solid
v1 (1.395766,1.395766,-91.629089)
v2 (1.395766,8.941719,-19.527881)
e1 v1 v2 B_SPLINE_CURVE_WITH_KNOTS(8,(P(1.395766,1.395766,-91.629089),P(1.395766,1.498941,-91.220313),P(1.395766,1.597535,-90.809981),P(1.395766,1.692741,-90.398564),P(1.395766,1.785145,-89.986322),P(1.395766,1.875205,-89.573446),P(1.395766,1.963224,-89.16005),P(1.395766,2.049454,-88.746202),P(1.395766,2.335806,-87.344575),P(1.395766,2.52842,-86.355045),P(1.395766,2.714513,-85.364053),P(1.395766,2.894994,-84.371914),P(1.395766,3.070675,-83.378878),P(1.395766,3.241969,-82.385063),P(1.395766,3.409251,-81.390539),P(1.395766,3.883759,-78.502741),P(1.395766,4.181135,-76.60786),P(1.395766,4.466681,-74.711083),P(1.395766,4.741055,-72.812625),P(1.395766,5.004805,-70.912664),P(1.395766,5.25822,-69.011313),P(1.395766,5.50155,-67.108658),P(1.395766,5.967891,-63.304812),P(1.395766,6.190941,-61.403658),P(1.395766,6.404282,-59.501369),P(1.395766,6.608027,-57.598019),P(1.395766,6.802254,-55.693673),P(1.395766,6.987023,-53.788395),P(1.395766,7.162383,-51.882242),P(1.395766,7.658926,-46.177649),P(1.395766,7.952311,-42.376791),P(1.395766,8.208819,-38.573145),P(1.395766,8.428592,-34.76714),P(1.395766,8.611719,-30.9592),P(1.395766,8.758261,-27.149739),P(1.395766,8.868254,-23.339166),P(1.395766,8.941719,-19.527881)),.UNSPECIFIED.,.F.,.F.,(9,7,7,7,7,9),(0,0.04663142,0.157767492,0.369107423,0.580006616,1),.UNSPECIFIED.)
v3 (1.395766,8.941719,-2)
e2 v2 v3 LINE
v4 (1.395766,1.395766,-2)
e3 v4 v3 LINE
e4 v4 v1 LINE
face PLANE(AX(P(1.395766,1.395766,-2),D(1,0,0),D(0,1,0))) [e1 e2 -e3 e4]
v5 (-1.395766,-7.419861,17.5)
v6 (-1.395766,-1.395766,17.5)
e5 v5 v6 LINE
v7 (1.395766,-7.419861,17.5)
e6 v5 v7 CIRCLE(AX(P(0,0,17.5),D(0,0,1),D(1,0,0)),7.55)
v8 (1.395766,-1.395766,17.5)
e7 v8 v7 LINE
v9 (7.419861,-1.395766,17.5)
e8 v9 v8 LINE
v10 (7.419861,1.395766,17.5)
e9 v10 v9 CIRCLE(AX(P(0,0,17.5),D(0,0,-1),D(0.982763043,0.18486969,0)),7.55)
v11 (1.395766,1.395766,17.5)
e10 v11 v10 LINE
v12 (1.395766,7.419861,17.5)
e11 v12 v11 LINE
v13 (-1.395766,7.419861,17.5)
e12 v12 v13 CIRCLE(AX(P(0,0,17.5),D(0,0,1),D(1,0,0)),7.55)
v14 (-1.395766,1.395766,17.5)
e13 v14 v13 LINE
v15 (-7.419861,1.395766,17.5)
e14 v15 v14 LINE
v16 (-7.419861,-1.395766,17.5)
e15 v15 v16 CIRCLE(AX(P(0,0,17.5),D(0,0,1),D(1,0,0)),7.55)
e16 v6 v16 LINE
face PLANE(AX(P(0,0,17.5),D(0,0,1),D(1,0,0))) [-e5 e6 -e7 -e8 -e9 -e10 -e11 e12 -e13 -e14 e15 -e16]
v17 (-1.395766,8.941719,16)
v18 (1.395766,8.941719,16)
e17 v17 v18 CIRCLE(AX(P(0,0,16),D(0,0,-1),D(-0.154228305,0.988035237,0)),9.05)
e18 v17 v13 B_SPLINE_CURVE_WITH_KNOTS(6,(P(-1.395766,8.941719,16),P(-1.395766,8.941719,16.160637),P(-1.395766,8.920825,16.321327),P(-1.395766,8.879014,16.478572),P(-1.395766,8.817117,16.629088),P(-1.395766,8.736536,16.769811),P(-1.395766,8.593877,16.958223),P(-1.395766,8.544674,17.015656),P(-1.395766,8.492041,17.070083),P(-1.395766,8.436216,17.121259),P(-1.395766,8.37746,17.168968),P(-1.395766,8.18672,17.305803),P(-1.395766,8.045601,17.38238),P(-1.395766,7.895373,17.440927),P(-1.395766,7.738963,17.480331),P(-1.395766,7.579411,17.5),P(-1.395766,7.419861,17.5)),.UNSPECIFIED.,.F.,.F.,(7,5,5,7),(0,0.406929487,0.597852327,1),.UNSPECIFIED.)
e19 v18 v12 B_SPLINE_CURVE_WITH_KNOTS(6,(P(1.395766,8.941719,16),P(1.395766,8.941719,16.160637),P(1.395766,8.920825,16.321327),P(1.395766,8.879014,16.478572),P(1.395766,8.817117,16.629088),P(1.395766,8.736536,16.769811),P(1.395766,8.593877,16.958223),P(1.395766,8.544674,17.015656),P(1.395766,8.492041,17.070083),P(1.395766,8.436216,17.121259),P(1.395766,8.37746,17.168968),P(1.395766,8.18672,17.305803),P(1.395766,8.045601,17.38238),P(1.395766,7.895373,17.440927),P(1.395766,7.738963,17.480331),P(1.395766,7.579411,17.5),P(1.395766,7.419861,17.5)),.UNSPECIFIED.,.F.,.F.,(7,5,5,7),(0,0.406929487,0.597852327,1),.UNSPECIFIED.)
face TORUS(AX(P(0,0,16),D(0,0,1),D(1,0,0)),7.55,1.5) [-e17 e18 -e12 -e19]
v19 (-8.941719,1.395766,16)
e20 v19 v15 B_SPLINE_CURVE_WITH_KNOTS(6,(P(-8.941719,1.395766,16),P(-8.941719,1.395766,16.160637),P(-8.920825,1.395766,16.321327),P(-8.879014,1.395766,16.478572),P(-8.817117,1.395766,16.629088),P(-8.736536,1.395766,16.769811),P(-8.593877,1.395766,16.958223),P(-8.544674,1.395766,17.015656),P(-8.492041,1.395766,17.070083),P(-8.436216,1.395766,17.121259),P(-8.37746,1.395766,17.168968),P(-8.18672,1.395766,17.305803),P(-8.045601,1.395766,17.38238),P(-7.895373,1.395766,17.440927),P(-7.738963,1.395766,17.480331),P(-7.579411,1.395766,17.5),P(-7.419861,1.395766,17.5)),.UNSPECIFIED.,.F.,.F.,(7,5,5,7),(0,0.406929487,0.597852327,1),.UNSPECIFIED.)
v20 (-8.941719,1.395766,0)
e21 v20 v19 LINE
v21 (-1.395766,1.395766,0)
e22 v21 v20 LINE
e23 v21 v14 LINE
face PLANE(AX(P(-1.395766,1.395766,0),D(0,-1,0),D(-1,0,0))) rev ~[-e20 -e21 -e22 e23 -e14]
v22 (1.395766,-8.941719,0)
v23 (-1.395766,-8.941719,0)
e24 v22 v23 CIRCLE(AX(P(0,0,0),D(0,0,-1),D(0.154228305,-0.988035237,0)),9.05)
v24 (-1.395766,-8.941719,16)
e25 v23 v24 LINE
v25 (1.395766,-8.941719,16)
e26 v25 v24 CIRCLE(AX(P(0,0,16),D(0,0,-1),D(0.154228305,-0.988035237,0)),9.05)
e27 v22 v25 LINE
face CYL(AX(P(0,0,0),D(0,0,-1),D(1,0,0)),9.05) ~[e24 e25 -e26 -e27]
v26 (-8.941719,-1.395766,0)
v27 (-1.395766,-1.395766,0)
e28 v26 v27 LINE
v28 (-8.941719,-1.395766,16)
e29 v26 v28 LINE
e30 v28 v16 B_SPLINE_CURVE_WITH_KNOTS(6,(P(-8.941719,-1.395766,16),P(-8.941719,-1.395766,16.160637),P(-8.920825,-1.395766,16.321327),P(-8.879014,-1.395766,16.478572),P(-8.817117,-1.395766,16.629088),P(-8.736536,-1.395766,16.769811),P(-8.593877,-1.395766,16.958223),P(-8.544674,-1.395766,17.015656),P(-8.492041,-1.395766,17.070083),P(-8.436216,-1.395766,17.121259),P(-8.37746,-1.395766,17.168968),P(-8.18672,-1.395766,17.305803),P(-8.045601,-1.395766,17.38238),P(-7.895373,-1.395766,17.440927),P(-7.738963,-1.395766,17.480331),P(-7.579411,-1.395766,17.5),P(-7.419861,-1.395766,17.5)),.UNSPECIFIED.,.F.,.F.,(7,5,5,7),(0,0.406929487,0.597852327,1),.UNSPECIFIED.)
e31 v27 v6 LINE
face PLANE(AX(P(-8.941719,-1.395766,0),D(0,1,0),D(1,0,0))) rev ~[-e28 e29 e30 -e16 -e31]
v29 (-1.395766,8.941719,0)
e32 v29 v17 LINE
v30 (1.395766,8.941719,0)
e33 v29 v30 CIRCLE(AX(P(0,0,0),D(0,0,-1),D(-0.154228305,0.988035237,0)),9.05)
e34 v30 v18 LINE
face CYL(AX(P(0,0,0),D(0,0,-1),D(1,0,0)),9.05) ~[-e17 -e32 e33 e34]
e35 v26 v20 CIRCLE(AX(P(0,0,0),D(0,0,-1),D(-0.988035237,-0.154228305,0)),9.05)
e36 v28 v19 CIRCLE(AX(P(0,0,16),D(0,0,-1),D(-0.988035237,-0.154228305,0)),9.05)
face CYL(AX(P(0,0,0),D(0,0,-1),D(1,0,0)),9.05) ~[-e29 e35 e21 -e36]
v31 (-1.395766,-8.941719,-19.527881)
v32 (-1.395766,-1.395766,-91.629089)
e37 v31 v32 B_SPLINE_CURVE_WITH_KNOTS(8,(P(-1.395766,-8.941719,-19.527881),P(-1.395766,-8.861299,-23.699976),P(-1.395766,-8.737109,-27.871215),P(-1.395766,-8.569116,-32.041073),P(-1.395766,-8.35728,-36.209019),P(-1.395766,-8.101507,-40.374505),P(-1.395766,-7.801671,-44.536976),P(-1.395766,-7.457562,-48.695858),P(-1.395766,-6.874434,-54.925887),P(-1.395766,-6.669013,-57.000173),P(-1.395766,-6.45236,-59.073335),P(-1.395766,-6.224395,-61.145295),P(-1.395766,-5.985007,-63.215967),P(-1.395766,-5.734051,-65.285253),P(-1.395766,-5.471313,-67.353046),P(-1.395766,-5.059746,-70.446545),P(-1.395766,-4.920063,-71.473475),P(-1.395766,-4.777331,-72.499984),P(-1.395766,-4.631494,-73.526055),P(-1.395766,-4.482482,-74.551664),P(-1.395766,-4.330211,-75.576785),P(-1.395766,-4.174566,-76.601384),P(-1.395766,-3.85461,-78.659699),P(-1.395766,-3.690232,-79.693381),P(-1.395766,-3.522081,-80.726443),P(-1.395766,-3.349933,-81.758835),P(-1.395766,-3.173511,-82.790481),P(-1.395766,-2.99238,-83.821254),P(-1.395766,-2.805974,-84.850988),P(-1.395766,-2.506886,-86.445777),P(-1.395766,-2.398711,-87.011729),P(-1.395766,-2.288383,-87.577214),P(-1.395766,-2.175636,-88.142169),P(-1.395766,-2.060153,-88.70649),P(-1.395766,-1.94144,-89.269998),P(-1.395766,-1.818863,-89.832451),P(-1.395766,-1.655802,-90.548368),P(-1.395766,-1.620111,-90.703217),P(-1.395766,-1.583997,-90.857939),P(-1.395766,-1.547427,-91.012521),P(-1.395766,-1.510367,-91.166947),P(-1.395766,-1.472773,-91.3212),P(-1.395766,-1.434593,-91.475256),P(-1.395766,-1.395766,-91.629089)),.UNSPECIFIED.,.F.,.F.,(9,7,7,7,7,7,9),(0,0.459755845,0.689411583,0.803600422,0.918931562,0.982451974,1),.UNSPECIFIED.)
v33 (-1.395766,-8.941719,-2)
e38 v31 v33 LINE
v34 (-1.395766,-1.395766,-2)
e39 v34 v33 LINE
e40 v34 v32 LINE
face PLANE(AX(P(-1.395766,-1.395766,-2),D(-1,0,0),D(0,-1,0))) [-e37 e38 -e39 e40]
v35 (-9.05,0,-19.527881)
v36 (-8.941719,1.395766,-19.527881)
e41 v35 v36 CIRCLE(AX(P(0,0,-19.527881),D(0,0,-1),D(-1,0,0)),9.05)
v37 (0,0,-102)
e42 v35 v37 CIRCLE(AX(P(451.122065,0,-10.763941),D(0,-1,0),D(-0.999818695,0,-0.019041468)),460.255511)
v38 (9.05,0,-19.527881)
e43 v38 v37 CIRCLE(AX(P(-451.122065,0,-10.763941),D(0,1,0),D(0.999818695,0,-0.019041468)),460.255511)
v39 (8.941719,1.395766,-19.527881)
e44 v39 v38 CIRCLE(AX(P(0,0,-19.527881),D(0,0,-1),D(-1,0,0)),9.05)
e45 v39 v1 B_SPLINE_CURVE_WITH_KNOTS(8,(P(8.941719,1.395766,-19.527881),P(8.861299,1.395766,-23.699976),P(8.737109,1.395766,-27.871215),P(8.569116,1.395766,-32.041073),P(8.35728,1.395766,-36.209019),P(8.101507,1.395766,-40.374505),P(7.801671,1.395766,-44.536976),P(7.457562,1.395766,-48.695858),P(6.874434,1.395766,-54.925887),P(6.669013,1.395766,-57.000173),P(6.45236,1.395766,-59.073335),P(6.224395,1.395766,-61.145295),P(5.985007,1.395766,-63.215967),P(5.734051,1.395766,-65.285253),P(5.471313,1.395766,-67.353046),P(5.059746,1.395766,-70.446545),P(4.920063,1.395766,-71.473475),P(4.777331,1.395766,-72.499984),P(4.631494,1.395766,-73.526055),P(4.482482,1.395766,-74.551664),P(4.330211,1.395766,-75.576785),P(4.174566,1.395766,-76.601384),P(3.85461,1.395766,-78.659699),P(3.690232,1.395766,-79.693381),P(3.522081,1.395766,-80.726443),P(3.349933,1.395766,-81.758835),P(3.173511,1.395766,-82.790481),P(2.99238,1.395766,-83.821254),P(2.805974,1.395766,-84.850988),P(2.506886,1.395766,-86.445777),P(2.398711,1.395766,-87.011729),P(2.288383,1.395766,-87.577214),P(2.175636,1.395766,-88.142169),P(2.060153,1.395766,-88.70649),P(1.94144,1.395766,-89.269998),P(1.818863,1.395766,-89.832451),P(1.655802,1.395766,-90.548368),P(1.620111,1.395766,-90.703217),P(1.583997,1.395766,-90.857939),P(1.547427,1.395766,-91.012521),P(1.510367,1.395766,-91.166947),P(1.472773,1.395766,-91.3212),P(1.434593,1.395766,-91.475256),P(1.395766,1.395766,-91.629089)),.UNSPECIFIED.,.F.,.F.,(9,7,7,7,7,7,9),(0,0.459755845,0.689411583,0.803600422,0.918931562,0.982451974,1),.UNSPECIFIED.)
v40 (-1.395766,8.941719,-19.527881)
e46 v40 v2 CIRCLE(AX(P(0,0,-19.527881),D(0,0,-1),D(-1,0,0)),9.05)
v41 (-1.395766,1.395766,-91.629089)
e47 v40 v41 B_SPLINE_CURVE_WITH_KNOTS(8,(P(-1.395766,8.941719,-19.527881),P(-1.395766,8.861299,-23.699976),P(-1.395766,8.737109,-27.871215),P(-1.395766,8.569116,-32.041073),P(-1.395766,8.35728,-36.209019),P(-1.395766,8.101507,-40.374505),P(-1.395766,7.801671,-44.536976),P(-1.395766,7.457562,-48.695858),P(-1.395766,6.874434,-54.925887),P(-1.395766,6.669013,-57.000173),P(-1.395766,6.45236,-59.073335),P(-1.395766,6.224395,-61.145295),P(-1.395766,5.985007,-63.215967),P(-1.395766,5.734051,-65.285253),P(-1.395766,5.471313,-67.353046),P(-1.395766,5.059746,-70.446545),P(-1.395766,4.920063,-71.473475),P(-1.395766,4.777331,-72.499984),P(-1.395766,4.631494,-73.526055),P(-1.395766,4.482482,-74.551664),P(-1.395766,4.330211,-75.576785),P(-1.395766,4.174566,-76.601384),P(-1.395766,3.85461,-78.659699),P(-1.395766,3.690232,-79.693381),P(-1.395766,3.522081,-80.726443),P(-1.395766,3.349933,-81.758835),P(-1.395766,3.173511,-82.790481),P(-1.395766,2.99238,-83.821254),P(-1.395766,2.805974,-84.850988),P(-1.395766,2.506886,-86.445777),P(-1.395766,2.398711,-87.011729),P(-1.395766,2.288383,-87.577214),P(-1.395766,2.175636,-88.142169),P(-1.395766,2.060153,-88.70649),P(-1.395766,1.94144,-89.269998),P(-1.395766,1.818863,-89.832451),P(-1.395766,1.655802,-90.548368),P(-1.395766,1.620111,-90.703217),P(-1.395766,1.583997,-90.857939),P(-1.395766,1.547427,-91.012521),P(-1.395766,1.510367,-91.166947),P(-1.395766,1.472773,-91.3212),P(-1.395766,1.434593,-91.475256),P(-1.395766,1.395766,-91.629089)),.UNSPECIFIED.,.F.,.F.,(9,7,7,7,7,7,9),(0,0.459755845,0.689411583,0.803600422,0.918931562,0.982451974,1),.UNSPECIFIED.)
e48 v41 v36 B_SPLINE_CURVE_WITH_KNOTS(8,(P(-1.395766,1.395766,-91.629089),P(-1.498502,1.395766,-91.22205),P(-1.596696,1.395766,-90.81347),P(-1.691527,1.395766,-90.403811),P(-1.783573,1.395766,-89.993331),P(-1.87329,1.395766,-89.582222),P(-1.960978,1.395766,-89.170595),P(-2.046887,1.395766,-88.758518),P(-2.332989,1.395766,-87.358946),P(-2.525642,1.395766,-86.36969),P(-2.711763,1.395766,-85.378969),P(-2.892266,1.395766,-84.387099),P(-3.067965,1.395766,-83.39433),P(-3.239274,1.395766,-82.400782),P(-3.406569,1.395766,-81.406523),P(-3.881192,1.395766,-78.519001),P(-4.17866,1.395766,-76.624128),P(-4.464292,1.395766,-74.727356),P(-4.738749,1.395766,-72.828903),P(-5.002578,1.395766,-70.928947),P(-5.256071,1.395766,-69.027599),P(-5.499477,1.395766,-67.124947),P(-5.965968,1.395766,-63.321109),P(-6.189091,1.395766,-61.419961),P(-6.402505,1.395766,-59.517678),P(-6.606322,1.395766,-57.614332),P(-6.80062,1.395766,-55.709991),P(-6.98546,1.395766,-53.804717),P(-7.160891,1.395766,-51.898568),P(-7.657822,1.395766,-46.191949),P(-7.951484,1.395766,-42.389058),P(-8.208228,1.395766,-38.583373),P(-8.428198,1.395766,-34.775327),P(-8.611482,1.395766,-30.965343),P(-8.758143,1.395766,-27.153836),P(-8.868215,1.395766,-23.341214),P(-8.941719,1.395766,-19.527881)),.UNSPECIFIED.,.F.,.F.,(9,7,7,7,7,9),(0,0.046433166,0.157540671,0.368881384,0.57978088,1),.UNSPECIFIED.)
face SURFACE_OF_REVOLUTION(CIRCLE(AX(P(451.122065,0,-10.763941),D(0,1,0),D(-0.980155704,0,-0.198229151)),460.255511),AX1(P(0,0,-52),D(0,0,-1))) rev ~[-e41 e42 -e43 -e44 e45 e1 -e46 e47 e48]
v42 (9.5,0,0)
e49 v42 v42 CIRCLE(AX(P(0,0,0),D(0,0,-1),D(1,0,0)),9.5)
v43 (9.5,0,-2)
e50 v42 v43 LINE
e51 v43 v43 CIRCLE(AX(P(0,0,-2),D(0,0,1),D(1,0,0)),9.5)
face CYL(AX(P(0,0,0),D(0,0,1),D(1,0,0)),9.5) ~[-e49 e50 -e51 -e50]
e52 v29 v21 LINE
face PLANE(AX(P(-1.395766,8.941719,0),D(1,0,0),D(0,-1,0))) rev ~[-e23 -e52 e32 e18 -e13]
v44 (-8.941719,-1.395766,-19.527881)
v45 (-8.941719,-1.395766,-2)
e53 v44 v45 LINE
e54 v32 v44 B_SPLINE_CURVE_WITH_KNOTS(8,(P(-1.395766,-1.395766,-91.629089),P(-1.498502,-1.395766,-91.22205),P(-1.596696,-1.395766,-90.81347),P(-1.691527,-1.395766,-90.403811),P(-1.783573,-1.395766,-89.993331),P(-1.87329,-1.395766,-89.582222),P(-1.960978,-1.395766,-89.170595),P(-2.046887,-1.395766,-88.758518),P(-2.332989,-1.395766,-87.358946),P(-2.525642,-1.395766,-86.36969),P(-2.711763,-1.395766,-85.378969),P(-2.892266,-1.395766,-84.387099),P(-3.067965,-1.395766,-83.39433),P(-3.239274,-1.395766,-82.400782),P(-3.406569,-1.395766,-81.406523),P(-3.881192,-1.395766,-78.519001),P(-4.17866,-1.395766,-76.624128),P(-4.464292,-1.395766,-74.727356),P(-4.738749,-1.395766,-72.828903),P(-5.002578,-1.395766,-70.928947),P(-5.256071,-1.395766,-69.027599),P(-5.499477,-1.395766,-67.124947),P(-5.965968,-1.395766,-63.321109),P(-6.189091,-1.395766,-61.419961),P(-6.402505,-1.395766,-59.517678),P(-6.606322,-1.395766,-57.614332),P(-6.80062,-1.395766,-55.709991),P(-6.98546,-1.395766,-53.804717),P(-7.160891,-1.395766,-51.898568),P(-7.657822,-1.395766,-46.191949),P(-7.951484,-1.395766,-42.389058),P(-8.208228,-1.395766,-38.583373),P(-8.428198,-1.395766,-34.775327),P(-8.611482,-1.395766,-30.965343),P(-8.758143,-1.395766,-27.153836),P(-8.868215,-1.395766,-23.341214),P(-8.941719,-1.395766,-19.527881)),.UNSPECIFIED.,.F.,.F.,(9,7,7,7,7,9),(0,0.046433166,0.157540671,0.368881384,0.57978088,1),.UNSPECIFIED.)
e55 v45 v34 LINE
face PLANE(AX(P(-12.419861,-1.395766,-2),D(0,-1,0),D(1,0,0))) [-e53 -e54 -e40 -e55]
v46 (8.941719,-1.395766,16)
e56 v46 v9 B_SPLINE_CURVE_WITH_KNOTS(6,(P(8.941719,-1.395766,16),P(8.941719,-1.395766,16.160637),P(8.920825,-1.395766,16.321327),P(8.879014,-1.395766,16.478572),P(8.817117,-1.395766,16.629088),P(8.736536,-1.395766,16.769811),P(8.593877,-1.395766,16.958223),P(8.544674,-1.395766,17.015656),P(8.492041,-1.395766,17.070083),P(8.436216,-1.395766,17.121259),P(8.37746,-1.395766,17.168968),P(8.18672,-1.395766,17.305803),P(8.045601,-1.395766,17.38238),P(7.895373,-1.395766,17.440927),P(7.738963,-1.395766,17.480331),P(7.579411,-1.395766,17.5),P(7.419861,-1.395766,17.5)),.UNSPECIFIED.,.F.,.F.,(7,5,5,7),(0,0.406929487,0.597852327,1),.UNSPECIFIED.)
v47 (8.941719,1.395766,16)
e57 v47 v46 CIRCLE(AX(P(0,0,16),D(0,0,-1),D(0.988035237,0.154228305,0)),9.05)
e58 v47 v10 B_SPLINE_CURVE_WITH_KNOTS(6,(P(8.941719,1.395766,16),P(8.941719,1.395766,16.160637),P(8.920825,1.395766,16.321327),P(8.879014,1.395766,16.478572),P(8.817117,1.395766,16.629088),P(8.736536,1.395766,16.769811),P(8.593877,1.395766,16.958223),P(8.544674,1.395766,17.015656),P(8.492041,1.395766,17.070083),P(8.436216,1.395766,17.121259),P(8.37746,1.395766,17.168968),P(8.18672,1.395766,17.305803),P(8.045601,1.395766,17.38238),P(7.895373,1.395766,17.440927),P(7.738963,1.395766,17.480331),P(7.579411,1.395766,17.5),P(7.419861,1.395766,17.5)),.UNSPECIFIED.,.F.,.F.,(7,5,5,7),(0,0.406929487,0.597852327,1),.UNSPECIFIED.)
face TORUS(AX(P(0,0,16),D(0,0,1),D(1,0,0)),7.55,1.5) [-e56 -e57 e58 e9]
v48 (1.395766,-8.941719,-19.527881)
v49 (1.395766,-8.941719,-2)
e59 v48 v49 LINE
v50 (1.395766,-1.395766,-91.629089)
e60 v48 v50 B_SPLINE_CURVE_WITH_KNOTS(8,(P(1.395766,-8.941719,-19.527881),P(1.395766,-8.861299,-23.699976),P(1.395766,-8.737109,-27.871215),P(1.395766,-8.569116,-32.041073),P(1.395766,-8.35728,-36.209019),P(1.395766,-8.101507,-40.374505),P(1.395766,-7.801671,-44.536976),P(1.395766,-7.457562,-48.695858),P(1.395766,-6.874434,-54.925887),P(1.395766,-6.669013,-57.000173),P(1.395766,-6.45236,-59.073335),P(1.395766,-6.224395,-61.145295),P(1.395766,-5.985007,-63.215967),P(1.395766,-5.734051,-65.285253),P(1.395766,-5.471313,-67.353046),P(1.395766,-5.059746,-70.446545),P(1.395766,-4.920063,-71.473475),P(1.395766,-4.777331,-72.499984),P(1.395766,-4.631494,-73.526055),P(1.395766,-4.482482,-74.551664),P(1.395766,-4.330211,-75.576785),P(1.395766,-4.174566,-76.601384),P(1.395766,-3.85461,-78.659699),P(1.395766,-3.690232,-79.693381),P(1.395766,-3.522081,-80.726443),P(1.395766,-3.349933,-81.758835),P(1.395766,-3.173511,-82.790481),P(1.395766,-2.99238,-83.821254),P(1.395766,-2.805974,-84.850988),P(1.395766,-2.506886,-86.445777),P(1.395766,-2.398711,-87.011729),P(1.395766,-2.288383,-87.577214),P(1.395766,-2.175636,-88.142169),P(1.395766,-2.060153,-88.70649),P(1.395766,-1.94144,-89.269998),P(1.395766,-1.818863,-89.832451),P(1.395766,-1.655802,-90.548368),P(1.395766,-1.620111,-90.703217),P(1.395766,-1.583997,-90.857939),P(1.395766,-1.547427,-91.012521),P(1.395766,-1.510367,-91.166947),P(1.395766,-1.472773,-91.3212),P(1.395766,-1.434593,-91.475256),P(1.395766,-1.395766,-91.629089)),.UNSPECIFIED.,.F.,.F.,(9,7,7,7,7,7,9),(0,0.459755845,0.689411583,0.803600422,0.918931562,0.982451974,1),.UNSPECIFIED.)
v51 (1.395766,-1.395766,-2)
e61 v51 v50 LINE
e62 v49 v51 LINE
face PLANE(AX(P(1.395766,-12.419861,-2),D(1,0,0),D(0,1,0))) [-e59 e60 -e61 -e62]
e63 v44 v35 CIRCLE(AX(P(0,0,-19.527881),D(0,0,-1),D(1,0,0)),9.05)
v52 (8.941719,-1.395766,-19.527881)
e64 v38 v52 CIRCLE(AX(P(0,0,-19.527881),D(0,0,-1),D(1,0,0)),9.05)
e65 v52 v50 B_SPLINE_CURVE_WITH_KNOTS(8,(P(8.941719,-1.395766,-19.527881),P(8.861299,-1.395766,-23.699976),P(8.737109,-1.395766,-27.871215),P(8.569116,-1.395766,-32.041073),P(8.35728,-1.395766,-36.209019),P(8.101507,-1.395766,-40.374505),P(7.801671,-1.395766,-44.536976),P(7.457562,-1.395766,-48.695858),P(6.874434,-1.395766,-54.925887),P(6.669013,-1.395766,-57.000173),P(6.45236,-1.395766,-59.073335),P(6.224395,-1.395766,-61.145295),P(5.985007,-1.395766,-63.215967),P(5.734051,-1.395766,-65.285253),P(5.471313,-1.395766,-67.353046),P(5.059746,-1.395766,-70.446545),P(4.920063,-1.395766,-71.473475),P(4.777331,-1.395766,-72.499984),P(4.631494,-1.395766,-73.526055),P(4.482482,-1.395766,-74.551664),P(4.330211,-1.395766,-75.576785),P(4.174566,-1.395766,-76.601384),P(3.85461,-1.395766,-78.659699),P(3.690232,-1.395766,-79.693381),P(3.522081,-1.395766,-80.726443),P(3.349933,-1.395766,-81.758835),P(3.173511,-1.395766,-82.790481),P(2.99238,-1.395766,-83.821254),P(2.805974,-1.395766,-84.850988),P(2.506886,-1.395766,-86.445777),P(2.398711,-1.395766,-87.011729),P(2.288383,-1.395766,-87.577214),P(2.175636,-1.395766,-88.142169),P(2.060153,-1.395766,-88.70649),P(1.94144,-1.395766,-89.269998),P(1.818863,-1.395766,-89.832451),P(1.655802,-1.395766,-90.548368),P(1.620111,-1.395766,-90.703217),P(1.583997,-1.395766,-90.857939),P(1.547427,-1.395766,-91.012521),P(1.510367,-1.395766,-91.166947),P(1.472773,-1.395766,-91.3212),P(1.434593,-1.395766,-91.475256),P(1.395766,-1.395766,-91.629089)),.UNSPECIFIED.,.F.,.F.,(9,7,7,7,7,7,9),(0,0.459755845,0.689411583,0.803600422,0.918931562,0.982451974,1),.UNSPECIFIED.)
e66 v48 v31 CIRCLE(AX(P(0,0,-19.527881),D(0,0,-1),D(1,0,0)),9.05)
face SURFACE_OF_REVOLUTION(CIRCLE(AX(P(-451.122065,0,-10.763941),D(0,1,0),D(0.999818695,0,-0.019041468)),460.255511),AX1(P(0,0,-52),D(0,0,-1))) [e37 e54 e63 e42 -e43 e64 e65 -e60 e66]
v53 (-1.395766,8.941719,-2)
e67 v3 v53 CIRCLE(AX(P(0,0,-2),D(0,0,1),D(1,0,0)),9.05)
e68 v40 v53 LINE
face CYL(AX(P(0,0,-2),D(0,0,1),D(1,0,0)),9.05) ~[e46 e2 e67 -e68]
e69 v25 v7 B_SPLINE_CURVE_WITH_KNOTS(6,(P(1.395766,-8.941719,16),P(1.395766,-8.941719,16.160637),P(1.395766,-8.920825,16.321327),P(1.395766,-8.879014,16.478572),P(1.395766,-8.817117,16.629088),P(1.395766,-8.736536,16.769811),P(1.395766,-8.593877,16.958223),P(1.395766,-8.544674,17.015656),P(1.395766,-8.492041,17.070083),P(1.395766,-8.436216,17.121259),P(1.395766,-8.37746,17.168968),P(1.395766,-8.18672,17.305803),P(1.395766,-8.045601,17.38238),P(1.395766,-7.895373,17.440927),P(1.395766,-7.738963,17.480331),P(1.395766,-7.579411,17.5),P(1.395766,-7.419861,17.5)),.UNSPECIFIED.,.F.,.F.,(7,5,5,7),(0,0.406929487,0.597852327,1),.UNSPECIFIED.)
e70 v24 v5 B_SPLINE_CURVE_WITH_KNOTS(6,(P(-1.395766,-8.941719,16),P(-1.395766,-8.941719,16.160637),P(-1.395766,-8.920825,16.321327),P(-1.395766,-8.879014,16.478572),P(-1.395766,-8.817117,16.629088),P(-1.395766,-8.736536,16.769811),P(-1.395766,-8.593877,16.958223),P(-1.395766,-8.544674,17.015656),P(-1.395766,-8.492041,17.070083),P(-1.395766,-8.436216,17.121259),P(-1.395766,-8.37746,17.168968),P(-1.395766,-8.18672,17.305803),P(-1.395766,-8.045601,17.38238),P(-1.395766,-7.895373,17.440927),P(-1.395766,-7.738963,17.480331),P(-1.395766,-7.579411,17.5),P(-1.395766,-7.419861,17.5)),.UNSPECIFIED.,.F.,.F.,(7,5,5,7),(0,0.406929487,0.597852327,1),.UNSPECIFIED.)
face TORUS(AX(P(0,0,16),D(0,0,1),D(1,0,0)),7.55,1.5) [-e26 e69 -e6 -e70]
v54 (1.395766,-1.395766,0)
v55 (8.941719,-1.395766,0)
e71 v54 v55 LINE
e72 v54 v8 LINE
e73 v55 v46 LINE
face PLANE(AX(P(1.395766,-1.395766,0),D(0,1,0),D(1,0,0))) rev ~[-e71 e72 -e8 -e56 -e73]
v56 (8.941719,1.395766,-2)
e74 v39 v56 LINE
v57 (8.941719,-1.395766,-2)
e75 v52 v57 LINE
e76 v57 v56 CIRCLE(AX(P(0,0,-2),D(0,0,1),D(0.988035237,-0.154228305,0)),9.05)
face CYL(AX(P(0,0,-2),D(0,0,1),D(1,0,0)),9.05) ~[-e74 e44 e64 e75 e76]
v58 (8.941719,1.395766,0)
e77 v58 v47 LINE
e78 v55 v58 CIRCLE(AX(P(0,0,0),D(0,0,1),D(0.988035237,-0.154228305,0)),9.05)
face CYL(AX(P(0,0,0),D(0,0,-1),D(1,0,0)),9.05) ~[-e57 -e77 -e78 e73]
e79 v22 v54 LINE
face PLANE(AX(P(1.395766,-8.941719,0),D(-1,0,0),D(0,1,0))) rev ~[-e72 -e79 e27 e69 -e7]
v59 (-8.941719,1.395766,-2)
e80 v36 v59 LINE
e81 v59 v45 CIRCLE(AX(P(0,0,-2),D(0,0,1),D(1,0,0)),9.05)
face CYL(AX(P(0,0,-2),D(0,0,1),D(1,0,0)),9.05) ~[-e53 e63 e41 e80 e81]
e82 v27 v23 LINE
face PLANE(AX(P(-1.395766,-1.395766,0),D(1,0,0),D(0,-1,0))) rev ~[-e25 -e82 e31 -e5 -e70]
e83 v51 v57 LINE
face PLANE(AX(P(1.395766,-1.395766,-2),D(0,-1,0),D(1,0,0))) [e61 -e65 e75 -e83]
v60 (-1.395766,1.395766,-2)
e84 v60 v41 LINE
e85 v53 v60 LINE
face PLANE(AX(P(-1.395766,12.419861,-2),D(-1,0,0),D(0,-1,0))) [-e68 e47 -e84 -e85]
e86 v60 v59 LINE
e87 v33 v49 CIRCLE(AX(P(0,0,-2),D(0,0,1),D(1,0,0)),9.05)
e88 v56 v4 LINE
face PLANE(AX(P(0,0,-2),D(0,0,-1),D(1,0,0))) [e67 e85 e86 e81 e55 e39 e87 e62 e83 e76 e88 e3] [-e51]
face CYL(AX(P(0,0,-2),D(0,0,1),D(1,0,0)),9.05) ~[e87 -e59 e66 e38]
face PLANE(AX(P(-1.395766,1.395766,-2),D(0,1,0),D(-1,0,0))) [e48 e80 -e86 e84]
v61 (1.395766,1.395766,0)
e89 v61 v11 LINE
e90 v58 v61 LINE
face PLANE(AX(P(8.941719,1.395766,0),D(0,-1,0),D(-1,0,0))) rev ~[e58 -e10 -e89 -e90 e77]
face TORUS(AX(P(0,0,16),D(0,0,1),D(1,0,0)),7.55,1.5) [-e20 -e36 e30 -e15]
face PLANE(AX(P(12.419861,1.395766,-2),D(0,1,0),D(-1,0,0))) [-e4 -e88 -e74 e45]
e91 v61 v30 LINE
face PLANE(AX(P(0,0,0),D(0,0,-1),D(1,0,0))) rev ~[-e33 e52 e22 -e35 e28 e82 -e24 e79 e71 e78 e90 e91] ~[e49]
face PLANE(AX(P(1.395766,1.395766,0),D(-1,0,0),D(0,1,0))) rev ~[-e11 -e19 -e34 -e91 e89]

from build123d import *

# Parameters (mm, degrees)
F0_R      = 9.05
F1_DEPTH  = 17.5
F2_R      = 1.5
F4_DEPTH  = 25
F5_R      = 9.5
F6_DEPTH  = 2
F7_R      = 9.05
F8_DEPTH  = 100
F10_ANGLE = 180
F12_DEPTH = 100.001


with BuildPart() as f1:
    # F0 (on Top) → F1 (new body)
    with BuildSketch(Plane.XY):
        Circle(F0_R)
    extrude(amount=F1_DEPTH)

    # F2
    f2_edges = [f1.edges().sort_by_distance(p)[0] for p in [
        (-9.05, 0, 17.5),
    ]]
    fillet(f2_edges, radius=F2_R)

    # F3 (on face) → F4 (cut)
    with BuildSketch(Plane(origin=(0, 0, 0), x_dir=(1, 0, 0), z_dir=(0, 0, -1))):
        with BuildLine():
            Line((9.05, 0), (9.05, 1.3957661577))
            Line((9.05, 1.3957661577), (8.941718897, 1.3957661577))
            ThreePointArc((8.941718897, 1.3957661577), (9.0228891165, 0.6999799933), (9.05, 0))
        make_face()
        with BuildLine():
            Line((1.3957661577, 8.941718897), (1.3957661577, 9.05))
            Line((1.3957661577, 9.05), (0, 9.05))
            ThreePointArc((0, 9.05), (0.6999799933, 9.0228891165), (1.3957661577, 8.941718897))
        make_face()
        with BuildLine():
            Line((-8.941718897, 1.3957661577), (-9.05, 1.3957661577))
            Line((-9.05, 1.3957661577), (-9.05, 0))
            ThreePointArc((-9.05, 0), (-9.0228891165, 0.6999799933), (-8.941718897, 1.3957661577))
        make_face()
        with BuildLine():
            ThreePointArc((-1.3957661577, 8.941718897), (-0.6999799933, 9.0228891165), (0, 9.05))
            Line((0, 9.05), (-1.3957661577, 9.05))
            Line((-1.3957661577, 9.05), (-1.3957661577, 8.941718897))
        make_face()
        with BuildLine():
            Line((9.05, -1.3957661577), (9.05, 0))
            ThreePointArc((9.05, 0), (9.0228891165, -0.6999799933), (8.941718897, -1.3957661577))
            Line((8.941718897, -1.3957661577), (9.05, -1.3957661577))
        make_face()
        with BuildLine():
            ThreePointArc((-8.941718897, -1.3957661577), (-9.0228891165, -0.6999799933), (-9.05, 0))
            Line((-9.05, 0), (-9.05, -1.3957661577))
            Line((-9.05, -1.3957661577), (-8.941718897, -1.3957661577))
        make_face()
        with BuildLine():
            Line((0, -9.05), (1.3957661577, -9.05))
            Line((1.3957661577, -9.05), (1.3957661577, -8.941718897))
            ThreePointArc((1.3957661577, -8.941718897), (0.6999799933, -9.0228891165), (0, -9.05))
        make_face()
        with BuildLine():
            Line((-1.3957661577, -9.05), (0, -9.05))
            ThreePointArc((0, -9.05), (-0.6999799933, -9.0228891165), (-1.3957661577, -8.941718897))
            Line((-1.3957661577, -8.941718897), (-1.3957661577, -9.05))
        make_face()
        with BuildLine():
            Line((1.3957661577, 1.3957661577), (8.941718897, 1.3957661577))
            ThreePointArc((8.941718897, 1.3957661577), (6.3993163697, 6.3993163697), (1.3957661577, 8.941718897))
            Line((1.3957661577, 8.941718897), (1.3957661577, 1.3957661577))
        make_face()
        with BuildLine():
            ThreePointArc((1.3957661577, -8.941718897), (6.3993163697, -6.3993163697), (8.941718897, -1.3957661577))
            Line((8.941718897, -1.3957661577), (1.3957661577, -1.3957661577))
            Line((1.3957661577, -1.3957661577), (1.3957661577, -8.941718897))
        make_face()
        with BuildLine():
            ThreePointArc((-8.941718897, -1.3957661577), (-6.3993163697, -6.3993163697), (-1.3957661577, -8.941718897))
            Line((-1.3957661577, -8.941718897), (-1.3957661577, -1.3957661577))
            Line((-1.3957661577, -1.3957661577), (-8.941718897, -1.3957661577))
        make_face()
        with BuildLine():
            Line((-1.3957661577, 1.3957661577), (-1.3957661577, 8.941718897))
            ThreePointArc((-1.3957661577, 8.941718897), (-6.3993163697, 6.3993163697), (-8.941718897, 1.3957661577))
            Line((-8.941718897, 1.3957661577), (-1.3957661577, 1.3957661577))
        make_face()
    extrude(amount=-F4_DEPTH, mode=Mode.SUBTRACT)

    # F5 (on face) → F6 (join)
    with BuildSketch(Plane(origin=(0, 0, 0), x_dir=(1, 0, 0), z_dir=(0, 0, -1))):
        Circle(F5_R)
    extrude(amount=F6_DEPTH)

    # F7 (on face) → F8 (join)
    with BuildSketch(Plane(origin=(0, 0, -2), x_dir=(1, 0, 0), z_dir=(0, 0, -1))):
        Circle(F7_R)
    extrude(amount=F8_DEPTH)

    # F9 (on Front) → F10 (revolve, cut)
    with BuildSketch(Plane.XZ):
        with BuildLine():
            Line((-9.05, -19.5278813041), (-9.05, -2))
            ThreePointArc((-9.05, -2), (-9.133446713, -10.7639406521), (-9.05, -19.5278813041))
        make_face()
        with BuildLine():
            Line((9.05, -2), (9.05, -19.5278813041))
            ThreePointArc((9.05, -19.5278813041), (9.133446713, -10.7639406521), (9.05, -2))
        make_face()
        with BuildLine():
            ThreePointArc((9.05, -19.5278813041), (6.38712664, -60.968279359), (0, -102))
            Line((0, -102), (9.05, -102))
            Line((9.05, -102), (9.05, -19.5278813041))
        make_face()
        with BuildLine():
            ThreePointArc((0, -102), (-6.38712664, -60.968279359), (-9.05, -19.5278813041))
            Line((-9.05, -19.5278813041), (-9.05, -102))
            Line((-9.05, -102), (0, -102))
        make_face()
    revolve(axis=Axis((0, 0, -52), (0, 0, -1)), revolution_arc=F10_ANGLE, mode=Mode.SUBTRACT)

    # F11 (on face) → F12 (cut, through all)
    with BuildSketch(Plane(origin=(0, 0, -2), x_dir=(1, 0, 0), z_dir=(0, 0, -1))):
        Polygon((-1.3957661577, -12.4198609713), (-1.3957661577, -7.4198609713), (-1.3957661577, -1.3957661577), (-7.4198609713, -1.3957661577), (-12.4198609713, -1.3957661577), align=None)
        Polygon((-12.4198609713, 1.3957661577), (-7.4198609713, 1.3957661577), (-1.3957661577, 1.3957661577), (-1.3957661577, 7.4198609713), (-1.3957661577, 12.4198609713), align=None)
        Polygon((1.3957661577, 12.4198609713), (1.3957661577, 7.4198609713), (1.3957661577, 1.3957661577), (7.4198609713, 1.3957661577), (12.4198609713, 1.3957661577), align=None)
        Polygon((12.4198609713, -1.3957661577), (7.4198609713, -1.3957661577), (1.3957661577, -1.3957661577), (1.3957661577, -7.4198609713), (1.3957661577, -12.4198609713), align=None)
    extrude(amount=F12_DEPTH, mode=Mode.SUBTRACT)


solid = f1.part
